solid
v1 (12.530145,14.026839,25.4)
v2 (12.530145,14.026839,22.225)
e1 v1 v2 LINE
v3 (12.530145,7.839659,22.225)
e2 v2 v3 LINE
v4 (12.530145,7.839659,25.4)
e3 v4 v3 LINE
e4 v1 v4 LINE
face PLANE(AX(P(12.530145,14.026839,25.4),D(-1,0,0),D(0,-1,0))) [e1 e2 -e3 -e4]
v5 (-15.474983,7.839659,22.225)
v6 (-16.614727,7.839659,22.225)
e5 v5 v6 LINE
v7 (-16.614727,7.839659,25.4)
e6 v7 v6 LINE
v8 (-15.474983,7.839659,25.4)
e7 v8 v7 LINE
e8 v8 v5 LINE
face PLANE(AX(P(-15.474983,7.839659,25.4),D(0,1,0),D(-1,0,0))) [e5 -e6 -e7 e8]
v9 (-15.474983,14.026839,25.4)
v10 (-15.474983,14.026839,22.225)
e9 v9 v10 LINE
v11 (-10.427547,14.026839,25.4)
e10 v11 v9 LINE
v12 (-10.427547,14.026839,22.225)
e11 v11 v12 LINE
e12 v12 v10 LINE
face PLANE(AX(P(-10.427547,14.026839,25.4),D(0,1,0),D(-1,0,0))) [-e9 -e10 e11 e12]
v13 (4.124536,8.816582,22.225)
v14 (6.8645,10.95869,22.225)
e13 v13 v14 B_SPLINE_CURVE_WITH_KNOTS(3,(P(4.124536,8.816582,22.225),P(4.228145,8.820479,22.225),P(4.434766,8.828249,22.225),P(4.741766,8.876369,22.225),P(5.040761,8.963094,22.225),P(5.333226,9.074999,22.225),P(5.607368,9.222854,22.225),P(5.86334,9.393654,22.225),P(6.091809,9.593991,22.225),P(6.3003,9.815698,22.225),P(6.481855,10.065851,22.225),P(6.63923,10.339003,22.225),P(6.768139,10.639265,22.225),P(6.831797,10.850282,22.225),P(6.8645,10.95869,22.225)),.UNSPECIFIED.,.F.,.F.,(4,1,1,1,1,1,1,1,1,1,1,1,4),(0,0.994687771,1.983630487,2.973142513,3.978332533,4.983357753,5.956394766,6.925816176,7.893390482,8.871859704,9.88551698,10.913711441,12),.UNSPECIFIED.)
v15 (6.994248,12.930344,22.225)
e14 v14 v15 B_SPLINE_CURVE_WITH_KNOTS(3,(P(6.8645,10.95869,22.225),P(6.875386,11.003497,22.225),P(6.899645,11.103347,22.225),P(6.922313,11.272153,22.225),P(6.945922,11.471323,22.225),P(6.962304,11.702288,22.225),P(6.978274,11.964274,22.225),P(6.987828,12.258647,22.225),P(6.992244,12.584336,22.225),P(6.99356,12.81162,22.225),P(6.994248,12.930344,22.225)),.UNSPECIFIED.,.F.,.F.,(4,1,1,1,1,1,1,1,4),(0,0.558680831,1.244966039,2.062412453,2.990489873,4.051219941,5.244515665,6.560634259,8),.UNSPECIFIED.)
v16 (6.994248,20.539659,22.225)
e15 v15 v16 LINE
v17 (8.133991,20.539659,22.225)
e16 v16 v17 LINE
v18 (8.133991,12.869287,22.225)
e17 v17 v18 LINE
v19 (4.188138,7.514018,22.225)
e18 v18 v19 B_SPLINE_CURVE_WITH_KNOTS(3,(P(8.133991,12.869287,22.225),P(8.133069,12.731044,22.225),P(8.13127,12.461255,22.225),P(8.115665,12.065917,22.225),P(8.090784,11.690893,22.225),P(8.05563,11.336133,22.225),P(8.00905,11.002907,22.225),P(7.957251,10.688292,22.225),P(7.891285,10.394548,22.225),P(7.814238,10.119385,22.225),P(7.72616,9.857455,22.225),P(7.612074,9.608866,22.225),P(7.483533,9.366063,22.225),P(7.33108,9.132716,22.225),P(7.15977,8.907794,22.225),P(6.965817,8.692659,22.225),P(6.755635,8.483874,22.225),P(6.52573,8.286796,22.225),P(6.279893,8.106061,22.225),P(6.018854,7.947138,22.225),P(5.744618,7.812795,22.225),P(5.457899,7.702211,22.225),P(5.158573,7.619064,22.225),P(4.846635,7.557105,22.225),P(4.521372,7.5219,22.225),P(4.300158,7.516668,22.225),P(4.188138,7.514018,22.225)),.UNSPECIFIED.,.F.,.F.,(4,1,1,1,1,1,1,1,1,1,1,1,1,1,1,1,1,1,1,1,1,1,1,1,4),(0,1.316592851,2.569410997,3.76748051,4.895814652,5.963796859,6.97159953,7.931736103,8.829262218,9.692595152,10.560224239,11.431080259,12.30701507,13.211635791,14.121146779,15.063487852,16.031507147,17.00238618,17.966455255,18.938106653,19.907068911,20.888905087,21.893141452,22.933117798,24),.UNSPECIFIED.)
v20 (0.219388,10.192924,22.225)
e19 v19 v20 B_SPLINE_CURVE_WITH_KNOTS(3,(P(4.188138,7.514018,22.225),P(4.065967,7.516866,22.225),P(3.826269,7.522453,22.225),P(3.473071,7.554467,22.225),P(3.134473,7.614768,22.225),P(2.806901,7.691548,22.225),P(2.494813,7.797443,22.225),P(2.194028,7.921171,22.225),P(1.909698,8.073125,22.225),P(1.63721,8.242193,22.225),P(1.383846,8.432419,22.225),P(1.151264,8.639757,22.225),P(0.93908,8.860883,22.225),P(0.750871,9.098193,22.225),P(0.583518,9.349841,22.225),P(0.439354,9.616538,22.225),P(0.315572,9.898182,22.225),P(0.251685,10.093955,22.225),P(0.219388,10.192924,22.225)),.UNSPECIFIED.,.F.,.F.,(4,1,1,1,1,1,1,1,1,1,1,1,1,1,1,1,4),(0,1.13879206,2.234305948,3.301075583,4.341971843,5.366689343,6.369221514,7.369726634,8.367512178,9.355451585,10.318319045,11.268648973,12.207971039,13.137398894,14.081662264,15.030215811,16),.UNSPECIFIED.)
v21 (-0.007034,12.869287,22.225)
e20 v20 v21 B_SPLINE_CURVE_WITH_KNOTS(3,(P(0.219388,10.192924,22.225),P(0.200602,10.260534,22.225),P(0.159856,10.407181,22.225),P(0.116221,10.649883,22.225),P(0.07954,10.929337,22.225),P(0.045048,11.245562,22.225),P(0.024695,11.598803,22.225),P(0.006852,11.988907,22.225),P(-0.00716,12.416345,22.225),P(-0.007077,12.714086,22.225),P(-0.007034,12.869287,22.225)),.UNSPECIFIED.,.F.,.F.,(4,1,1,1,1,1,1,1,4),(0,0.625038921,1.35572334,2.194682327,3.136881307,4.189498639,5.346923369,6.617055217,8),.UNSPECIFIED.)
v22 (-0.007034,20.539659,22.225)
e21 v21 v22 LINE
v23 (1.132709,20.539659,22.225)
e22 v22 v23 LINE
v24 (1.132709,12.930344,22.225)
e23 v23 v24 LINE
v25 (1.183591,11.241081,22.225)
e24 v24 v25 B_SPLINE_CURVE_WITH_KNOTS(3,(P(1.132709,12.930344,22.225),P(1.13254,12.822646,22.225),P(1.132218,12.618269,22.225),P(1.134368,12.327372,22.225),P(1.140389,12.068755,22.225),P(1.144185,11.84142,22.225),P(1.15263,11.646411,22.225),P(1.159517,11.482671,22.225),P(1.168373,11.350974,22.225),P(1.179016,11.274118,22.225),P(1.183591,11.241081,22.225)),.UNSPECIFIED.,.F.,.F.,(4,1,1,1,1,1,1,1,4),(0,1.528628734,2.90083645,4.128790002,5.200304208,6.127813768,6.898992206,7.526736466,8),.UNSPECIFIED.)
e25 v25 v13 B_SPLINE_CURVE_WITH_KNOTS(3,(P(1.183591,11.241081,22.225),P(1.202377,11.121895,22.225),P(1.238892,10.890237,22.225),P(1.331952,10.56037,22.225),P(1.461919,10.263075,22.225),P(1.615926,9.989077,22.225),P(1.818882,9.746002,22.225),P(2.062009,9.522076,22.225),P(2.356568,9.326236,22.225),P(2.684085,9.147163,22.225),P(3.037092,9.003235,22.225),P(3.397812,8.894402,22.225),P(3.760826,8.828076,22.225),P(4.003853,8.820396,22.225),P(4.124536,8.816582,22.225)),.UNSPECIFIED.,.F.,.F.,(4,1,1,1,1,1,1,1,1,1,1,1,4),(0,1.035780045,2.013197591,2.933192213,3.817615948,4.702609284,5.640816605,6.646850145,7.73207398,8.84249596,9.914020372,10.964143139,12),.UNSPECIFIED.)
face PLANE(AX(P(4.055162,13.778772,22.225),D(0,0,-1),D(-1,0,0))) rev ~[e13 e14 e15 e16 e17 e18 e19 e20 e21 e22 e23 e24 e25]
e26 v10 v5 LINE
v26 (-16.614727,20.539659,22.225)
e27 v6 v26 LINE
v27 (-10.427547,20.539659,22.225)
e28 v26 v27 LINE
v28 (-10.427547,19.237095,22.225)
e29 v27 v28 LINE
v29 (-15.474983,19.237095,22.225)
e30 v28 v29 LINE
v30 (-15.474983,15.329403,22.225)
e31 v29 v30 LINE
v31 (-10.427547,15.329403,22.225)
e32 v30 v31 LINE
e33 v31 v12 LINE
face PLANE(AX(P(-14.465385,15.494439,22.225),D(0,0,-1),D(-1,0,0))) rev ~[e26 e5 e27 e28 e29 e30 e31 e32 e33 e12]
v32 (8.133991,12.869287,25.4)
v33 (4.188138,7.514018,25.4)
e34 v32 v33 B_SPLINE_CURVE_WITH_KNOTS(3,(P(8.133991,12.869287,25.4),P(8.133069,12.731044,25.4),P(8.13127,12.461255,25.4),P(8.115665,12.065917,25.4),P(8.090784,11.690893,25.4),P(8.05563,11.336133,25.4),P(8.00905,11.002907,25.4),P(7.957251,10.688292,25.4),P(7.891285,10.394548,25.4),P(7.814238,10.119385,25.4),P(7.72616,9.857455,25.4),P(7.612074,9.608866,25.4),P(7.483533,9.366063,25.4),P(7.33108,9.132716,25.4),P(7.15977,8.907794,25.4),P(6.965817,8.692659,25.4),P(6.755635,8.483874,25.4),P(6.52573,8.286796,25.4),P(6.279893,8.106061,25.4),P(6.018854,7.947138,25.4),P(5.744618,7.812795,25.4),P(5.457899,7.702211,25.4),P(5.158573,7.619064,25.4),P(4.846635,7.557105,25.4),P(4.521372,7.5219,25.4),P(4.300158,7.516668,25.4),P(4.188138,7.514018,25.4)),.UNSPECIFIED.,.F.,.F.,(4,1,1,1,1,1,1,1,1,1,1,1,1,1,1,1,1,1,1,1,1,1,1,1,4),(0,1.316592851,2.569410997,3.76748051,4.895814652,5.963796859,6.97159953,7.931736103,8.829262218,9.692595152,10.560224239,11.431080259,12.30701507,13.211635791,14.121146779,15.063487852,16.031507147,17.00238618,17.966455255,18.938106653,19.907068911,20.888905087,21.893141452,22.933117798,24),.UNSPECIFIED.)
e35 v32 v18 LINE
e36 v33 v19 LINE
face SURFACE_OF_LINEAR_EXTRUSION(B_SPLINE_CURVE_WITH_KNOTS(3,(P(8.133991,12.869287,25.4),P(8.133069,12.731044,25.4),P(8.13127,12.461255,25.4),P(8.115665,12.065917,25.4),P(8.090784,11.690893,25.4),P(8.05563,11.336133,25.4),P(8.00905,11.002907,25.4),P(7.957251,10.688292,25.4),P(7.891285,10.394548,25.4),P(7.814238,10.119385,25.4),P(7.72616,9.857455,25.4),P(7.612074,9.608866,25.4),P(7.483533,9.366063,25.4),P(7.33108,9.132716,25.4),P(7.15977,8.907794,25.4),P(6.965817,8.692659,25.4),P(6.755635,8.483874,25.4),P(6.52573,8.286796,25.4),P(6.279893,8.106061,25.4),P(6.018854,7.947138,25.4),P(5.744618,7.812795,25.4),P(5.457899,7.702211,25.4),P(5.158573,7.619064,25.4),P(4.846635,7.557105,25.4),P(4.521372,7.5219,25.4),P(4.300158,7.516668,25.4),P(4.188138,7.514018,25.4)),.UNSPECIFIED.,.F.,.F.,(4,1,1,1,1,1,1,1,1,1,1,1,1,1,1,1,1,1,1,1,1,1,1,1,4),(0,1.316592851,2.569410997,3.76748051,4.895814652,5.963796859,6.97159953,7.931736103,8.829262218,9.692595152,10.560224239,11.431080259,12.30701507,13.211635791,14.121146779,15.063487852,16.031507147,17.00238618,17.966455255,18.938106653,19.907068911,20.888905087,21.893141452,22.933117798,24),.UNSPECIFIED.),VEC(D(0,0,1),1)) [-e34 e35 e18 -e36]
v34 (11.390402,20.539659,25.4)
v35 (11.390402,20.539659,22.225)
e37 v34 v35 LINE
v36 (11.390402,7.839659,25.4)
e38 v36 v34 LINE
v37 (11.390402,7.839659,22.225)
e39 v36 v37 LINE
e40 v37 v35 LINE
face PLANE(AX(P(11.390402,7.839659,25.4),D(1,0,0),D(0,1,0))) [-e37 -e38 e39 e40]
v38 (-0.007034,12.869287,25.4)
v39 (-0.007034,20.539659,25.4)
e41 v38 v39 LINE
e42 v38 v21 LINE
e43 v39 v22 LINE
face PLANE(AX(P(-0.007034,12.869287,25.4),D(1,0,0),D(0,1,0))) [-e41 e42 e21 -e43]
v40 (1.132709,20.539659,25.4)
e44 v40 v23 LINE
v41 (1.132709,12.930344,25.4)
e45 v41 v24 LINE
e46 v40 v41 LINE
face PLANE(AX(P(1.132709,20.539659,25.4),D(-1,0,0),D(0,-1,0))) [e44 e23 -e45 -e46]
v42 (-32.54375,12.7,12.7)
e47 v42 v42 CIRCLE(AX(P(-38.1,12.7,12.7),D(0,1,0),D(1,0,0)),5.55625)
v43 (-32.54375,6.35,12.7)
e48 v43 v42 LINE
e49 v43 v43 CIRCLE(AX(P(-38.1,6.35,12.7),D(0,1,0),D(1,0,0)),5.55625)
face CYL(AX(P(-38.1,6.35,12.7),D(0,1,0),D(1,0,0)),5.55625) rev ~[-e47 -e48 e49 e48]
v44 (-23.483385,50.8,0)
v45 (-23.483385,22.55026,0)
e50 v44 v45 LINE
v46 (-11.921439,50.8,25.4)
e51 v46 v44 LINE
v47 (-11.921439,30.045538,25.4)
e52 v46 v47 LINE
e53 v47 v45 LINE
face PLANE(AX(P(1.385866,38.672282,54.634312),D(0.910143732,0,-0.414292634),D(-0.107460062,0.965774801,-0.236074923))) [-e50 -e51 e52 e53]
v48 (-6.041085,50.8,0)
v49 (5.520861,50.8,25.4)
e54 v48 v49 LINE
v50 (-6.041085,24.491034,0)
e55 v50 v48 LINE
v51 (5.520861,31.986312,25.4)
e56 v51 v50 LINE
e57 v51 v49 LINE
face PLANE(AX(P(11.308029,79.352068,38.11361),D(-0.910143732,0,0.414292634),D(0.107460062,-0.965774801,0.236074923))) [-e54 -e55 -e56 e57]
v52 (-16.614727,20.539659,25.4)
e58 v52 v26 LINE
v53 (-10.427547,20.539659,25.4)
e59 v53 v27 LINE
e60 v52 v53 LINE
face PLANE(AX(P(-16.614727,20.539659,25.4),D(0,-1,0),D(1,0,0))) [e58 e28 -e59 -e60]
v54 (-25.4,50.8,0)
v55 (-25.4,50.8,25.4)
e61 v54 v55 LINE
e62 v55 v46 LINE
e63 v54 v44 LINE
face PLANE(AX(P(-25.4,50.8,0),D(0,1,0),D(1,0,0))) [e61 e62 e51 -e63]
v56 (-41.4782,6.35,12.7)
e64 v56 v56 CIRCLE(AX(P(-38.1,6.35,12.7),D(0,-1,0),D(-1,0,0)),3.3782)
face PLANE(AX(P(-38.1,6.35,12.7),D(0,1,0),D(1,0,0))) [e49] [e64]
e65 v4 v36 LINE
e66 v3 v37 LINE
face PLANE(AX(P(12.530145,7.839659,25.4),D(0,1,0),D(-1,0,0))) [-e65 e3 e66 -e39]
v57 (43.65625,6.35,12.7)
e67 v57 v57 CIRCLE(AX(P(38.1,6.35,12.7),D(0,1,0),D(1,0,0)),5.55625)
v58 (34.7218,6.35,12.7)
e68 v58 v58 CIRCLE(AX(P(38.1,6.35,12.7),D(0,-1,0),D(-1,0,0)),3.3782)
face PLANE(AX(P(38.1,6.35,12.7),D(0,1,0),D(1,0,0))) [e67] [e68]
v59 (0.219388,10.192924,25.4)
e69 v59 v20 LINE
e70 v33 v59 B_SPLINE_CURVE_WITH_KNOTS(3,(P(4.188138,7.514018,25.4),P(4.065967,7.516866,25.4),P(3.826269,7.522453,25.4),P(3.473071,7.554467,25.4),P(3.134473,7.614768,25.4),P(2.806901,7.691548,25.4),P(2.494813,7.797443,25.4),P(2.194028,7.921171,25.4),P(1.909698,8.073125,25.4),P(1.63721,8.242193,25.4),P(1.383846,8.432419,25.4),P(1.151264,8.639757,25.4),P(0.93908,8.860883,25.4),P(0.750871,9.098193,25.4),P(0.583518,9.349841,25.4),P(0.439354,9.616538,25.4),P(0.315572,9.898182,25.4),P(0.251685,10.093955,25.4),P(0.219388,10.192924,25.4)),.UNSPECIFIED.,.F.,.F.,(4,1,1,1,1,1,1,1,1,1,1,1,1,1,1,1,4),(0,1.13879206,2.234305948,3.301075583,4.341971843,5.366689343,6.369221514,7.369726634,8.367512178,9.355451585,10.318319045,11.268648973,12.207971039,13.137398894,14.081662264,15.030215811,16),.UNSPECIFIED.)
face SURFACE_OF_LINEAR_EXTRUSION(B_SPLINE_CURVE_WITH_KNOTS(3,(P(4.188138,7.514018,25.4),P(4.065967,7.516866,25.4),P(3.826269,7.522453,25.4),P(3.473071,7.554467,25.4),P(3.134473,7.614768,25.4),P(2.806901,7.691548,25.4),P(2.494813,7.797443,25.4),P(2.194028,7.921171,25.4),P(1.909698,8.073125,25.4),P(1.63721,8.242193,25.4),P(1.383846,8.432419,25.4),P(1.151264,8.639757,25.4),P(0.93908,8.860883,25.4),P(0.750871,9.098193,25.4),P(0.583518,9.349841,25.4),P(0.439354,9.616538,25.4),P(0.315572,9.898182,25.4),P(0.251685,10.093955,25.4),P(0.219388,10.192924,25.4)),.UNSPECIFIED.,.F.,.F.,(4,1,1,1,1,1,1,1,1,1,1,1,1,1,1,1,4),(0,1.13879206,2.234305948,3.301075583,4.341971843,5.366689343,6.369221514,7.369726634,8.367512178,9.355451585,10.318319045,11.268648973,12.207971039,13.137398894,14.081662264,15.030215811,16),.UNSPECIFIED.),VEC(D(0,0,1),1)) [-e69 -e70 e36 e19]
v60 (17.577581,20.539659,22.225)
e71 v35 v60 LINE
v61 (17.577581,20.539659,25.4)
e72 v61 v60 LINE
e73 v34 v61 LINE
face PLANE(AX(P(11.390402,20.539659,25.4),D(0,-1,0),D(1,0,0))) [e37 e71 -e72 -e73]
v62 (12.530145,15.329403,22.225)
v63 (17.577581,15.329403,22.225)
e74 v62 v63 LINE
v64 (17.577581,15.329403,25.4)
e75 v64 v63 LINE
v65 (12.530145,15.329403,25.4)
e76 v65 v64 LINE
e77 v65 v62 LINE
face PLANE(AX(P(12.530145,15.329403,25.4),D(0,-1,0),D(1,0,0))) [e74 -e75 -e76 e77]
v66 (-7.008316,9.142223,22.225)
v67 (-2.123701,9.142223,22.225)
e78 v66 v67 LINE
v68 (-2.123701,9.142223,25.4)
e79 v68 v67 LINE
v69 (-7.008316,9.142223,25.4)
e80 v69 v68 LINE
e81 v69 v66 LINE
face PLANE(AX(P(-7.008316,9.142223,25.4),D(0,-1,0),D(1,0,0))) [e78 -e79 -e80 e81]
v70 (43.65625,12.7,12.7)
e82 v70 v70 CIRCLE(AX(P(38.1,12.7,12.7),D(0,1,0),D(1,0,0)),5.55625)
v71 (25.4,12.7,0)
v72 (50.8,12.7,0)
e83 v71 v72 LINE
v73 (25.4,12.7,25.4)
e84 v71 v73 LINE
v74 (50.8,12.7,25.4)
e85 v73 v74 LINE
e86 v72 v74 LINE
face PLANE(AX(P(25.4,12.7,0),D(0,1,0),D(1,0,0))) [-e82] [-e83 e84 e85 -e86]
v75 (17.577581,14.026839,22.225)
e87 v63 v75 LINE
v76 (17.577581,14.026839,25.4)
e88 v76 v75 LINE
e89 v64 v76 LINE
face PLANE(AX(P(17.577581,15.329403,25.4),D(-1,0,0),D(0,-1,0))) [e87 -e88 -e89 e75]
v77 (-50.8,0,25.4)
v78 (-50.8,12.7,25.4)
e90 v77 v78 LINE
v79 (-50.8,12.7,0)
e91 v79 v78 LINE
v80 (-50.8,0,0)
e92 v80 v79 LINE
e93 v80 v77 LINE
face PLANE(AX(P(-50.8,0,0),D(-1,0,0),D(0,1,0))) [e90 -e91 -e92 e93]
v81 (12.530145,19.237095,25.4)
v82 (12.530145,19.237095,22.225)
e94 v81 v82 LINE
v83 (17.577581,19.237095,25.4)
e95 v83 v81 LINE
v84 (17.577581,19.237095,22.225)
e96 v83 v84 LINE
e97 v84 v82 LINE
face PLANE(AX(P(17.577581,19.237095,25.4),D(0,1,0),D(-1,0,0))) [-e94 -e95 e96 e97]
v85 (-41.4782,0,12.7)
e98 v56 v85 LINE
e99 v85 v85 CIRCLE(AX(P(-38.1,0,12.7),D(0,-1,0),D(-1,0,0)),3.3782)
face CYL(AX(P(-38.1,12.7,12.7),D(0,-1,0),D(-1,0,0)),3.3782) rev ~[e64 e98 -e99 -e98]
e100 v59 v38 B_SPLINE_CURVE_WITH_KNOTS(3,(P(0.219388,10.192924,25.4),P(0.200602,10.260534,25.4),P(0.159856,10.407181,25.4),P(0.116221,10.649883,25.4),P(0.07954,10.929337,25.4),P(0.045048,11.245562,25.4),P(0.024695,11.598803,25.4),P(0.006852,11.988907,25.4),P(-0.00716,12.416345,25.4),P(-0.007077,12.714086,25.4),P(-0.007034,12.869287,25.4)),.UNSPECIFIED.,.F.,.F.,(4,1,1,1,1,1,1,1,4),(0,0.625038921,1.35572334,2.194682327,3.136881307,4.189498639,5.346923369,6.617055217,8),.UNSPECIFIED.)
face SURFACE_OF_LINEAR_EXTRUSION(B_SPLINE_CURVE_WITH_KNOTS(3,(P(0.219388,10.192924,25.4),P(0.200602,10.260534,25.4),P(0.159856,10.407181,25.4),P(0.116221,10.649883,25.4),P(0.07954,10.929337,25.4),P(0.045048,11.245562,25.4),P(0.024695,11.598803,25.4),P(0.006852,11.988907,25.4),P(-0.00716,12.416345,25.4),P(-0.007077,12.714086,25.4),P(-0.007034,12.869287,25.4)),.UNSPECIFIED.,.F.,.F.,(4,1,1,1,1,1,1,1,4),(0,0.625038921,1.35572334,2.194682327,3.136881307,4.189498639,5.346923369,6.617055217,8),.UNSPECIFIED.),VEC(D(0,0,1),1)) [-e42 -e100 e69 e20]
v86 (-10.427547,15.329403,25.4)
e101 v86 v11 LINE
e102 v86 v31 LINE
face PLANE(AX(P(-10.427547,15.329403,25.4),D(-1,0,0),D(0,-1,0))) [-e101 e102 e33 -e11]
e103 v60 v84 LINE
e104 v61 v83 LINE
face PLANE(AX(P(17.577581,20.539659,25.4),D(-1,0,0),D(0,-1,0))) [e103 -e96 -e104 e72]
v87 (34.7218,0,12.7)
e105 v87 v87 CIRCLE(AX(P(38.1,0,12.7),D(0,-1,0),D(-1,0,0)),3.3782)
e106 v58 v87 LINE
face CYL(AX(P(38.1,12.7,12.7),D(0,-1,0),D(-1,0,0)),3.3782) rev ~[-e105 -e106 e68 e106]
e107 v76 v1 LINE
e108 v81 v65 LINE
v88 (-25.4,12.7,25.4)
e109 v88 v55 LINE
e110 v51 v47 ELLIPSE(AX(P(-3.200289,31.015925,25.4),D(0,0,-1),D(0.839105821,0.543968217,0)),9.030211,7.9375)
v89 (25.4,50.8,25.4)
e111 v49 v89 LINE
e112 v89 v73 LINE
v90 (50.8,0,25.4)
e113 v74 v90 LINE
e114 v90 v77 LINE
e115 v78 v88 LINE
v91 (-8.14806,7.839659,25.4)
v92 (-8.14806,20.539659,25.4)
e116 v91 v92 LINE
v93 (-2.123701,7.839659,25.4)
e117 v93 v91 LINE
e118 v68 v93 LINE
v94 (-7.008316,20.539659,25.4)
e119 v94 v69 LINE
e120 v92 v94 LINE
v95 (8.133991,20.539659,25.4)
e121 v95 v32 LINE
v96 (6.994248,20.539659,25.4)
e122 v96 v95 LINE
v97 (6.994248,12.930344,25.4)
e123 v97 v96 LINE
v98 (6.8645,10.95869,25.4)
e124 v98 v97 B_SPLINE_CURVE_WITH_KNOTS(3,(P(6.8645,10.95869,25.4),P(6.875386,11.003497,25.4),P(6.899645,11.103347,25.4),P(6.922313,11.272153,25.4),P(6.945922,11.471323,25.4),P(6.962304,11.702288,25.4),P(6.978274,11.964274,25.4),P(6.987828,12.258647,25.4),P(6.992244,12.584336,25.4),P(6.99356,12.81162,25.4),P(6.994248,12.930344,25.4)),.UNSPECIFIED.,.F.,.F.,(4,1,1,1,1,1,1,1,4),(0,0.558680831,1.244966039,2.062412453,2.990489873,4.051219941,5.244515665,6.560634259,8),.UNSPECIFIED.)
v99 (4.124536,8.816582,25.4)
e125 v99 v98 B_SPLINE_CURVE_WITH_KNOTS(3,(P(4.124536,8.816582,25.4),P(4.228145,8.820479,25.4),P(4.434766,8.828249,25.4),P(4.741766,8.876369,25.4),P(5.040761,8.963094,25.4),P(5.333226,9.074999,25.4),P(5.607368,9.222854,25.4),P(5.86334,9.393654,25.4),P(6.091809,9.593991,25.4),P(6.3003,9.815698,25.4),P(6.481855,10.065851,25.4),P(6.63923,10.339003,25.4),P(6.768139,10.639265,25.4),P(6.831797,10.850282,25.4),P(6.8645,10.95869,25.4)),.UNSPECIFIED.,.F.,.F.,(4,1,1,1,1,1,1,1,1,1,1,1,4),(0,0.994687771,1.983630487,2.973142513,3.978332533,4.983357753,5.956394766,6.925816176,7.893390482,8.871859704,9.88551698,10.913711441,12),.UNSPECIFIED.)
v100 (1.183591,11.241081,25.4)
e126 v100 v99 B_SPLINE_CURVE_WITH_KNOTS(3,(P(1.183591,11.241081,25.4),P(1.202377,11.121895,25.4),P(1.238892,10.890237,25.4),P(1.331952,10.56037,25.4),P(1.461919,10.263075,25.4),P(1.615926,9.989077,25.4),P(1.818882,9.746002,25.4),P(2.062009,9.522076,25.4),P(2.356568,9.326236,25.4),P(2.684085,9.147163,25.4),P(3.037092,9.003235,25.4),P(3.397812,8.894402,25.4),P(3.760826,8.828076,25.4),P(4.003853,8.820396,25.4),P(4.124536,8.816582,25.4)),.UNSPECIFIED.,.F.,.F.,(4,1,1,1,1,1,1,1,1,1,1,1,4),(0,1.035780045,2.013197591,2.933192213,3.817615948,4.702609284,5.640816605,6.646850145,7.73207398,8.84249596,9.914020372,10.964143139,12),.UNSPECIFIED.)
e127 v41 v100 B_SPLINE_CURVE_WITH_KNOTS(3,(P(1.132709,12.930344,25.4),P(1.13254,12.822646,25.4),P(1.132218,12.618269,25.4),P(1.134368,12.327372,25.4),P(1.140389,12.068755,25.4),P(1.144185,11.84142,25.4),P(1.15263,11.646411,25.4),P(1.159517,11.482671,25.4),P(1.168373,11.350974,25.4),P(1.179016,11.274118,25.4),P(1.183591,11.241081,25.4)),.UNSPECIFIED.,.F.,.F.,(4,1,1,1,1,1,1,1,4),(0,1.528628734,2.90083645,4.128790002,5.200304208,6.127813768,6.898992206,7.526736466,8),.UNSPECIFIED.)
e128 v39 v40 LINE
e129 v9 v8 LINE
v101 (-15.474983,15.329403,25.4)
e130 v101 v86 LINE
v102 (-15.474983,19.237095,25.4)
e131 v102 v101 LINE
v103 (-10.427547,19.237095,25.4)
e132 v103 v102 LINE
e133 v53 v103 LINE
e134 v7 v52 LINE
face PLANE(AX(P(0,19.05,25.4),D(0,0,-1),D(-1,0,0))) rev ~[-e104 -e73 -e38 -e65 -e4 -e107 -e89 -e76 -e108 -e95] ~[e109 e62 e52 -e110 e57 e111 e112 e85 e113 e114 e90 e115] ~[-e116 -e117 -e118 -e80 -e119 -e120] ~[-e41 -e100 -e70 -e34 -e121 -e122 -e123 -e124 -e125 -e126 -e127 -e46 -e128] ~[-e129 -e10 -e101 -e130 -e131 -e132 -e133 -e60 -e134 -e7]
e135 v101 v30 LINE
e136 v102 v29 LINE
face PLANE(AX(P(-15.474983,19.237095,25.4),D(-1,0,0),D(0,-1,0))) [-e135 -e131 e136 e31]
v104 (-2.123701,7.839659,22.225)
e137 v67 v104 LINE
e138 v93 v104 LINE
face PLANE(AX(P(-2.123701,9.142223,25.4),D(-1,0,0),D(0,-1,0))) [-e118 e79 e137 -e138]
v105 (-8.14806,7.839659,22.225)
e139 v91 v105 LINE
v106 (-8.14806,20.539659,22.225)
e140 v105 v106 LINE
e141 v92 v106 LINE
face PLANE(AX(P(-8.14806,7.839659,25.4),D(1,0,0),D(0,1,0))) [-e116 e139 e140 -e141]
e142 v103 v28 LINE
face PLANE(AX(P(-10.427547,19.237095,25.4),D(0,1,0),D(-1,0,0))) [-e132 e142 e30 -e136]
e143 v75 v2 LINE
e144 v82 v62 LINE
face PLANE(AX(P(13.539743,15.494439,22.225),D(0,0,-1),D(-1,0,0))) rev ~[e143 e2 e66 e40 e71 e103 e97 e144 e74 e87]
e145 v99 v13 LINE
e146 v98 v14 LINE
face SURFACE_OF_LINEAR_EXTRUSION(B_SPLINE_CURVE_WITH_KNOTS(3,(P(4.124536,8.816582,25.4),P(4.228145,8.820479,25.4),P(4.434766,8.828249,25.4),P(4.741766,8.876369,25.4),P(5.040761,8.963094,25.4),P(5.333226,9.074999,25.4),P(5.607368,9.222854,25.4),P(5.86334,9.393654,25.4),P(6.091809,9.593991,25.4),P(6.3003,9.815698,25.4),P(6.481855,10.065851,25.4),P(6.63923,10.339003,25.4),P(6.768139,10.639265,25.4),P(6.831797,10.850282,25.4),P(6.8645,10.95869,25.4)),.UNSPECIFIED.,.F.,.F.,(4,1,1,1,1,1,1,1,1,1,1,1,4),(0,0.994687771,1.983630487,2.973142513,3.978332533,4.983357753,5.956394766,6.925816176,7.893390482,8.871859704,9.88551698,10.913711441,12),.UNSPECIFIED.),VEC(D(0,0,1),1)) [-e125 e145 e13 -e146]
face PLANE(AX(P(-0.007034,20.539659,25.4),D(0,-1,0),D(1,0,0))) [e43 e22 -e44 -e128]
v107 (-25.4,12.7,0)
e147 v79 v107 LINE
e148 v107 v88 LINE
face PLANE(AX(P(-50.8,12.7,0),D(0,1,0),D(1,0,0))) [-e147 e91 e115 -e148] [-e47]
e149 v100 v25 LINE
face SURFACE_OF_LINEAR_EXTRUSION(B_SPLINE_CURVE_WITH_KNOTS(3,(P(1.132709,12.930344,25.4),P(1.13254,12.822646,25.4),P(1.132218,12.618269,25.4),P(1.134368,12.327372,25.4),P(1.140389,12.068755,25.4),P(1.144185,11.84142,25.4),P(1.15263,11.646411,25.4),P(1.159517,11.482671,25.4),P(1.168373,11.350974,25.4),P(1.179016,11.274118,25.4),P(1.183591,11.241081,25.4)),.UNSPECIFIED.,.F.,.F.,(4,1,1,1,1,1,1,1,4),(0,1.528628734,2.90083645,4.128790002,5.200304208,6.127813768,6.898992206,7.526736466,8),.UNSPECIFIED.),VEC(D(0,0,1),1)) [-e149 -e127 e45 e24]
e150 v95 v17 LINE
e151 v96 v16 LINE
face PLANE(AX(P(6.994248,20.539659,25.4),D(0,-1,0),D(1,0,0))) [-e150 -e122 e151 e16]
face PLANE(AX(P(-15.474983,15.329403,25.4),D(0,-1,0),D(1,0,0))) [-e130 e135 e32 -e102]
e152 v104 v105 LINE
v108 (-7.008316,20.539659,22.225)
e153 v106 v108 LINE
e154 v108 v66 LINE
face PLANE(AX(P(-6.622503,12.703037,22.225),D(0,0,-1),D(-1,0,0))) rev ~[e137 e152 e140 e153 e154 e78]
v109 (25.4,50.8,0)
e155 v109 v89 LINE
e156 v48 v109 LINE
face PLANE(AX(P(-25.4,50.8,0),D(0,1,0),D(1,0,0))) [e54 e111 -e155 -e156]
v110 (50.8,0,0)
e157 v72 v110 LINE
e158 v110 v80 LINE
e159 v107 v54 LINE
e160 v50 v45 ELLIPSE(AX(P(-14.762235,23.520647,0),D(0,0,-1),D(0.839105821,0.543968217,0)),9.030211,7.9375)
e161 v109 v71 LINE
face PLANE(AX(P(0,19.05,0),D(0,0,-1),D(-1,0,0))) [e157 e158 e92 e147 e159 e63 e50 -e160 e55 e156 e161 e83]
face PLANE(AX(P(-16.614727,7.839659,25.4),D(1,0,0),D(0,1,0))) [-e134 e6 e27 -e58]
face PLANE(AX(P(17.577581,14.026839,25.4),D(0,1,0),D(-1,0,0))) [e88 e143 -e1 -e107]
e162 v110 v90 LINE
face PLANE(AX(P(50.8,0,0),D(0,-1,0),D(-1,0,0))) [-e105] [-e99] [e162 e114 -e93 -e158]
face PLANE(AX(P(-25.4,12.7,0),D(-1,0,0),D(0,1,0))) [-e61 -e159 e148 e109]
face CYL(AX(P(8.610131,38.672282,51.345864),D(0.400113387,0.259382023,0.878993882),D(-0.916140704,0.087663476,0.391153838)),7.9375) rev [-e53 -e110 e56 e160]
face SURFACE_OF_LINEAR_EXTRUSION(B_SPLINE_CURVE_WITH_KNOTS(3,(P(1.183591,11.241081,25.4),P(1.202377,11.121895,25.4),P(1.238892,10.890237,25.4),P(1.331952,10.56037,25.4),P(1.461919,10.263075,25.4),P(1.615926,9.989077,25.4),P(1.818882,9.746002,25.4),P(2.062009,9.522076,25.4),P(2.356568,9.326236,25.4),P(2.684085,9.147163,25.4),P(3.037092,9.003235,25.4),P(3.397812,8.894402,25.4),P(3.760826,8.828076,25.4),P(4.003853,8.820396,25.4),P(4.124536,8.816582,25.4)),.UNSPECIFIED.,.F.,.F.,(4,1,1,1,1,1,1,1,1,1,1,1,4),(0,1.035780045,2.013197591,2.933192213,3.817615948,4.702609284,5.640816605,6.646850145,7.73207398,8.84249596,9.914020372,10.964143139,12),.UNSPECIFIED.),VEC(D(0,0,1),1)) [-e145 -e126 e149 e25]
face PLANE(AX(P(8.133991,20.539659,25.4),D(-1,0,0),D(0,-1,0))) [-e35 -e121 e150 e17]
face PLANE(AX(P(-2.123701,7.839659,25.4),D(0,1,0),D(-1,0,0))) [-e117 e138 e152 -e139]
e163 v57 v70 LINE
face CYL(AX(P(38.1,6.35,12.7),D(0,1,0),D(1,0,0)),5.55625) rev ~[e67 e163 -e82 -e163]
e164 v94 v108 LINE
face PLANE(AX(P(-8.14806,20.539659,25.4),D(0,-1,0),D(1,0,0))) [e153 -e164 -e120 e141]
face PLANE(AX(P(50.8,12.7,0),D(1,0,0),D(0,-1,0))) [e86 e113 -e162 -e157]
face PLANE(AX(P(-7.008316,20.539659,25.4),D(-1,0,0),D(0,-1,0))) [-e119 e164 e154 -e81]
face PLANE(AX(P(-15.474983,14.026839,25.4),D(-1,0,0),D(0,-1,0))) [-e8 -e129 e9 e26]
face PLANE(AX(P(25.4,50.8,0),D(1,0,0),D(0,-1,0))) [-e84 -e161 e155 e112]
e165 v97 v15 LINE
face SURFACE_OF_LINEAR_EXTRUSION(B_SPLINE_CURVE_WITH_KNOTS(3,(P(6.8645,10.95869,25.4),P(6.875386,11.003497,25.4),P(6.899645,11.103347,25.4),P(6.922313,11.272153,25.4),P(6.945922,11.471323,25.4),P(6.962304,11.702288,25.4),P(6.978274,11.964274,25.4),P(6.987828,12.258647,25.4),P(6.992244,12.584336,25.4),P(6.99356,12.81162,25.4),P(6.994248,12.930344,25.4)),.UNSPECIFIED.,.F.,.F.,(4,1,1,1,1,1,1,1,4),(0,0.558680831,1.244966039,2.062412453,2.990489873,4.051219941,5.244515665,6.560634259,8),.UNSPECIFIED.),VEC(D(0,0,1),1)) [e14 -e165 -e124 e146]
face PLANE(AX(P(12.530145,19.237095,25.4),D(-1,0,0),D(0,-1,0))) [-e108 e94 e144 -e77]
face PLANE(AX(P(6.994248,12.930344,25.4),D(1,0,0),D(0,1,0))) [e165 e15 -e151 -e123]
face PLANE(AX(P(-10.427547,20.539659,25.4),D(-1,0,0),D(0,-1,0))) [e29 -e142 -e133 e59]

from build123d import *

# Parameters (mm, degrees)
BOSS_EXTRUDE1_DEPTH                              = 25.4
CBORE_FOR_1_4_SOCKET_HEAD_CAP_SCREW1_D           = 6.7564
CBORE_FOR_1_4_SOCKET_HEAD_CAP_SCREW1_CBORE_D     = 11.1125
CBORE_FOR_1_4_SOCKET_HEAD_CAP_SCREW1_CBORE_DEPTH = 6.35
SKETCH6_R                                        = 7.9375
CUT_EXTRUDE2_DEPTH                               = 88.530033839
CUT_EXTRUDE3_DEPTH                               = 3.175


with BuildPart() as part:
    # Sketch1 → Boss-Extrude1 (new body)
    with BuildSketch(Plane.XY):
        Polygon((25.4, 12.7), (50.8, 12.7), (50.8, 0), (-50.8, 0), (-50.8, 12.7), (-25.4, 12.7), (-25.4, 50.8), (25.4, 50.8), align=None)
    extrude(amount=BOSS_EXTRUDE1_DEPTH)

    # CBORE for 1/4 Socket Head Cap Screw1 (through all)
    with Locations(Plane(origin=(0, 12.7, 0), x_dir=(1, 0, 0), z_dir=(0, 1, 0))):
        with Locations((-38.1, -12.7), (38.1, -12.7)):
            CounterBoreHole(CBORE_FOR_1_4_SOCKET_HEAD_CAP_SCREW1_D / 2, CBORE_FOR_1_4_SOCKET_HEAD_CAP_SCREW1_CBORE_D / 2, CBORE_FOR_1_4_SOCKET_HEAD_CAP_SCREW1_CBORE_DEPTH)

    # Sketch6 → Cut-Extrude2 (cut, through all)
    with BuildSketch(Plane(origin=(8.61013147, 38.672281651, 51.345863849), x_dir=(-0.9161407044196058, 0.08766347581543056, 0.39115383765662576), z_dir=(-0.40011338654688333, -0.2593820230581922, -0.878993881673942))):
        Circle(SKETCH6_R)
        with BuildLine():
            Line((-4.081369276, 42.668005296), (-7.904732998, 0.720487673))
            ThreePointArc((-7.904732998, 0.720487673), (0.360616196, 7.929304018), (7.9375, 0))
            ThreePointArc((7.9375, 0), (7.929304018, -0.360616196), (7.904732998, -0.720487673))
            Line((7.904732998, -0.720487673), (11.728096719, 41.227029949))
            Line((11.728096719, 41.227029949), (-4.081369276, 42.668005296))
        make_face()
    extrude(amount=CUT_EXTRUDE2_DEPTH, mode=Mode.SUBTRACT)

    # Sketch7 → Cut-Extrude3 (cut)
    with BuildSketch(Plane.XY.offset(25.4)):
        Polygon((-16.614726636, 20.539659198), (-10.427547149, 20.539659198), (-10.427547149, 19.237095095), (-15.474983047, 19.237095095), (-15.474983047, 15.329402787), (-10.427547149, 15.329402787), (-10.427547149, 14.026838685), (-15.474983047, 14.026838685), (-15.474983047, 7.839659198), (-16.614726636, 7.839659198), align=None)
        Polygon((-8.14805997, 20.539659198), (-7.00831638, 20.539659198), (-7.00831638, 9.1422233), (-2.123700995, 9.1422233), (-2.123700995, 7.839659198), (-8.14805997, 7.839659198), align=None)
        with BuildLine():
            Line((-0.007034329, 20.539659198), (1.132709261, 20.539659198))
            Line((1.132709261, 20.539659198), (1.132709261, 12.930344294))
            add(Edge.make_bspline(
                [(1.132709261, 12.930344294), (1.132539647, 12.822645624), (1.132217776, 12.618268839), (1.134367755, 12.327372434), (1.140388891, 12.068755225), (1.144184956, 11.841420336), (1.152629852, 11.646410938), (1.159517051, 11.482670525), (1.168372785, 11.350974419), (1.179015812, 11.274117916), (1.183590671, 11.241081473)],
                knots=[0, 0, 0, 0, 1.528628734, 2.90083645, 4.128790002, 5.200304208, 6.127813768, 6.898992206, 7.526736466, 8, 8, 8, 8], degree=3))
            add(Edge.make_bspline(
                [(1.183590671, 11.241081473), (1.20237745, 11.121894646), (1.238892441, 10.890236743), (1.331952154, 10.560369549), (1.461918515, 10.263075401), (1.615926127, 9.989077287), (1.818881603, 9.746001609), (2.062008717, 9.522076469), (2.356568048, 9.326235921), (2.684085103, 9.147162975), (3.037091536, 9.003235391), (3.397812417, 8.894402326), (3.760825513, 8.828076032), (4.003853312, 8.820396019), (4.124536184, 8.816582275)],
                knots=[0, 0, 0, 0, 1.035780045, 2.013197591, 2.933192213, 3.817615948, 4.702609284, 5.640816605, 6.646850145, 7.73207398, 8.84249596, 9.914020372, 10.964143139, 12, 12, 12, 12], degree=3))
            add(Edge.make_bspline(
                [(4.124536184, 8.816582275), (4.228145471, 8.820478817), (4.434765624, 8.828249397), (4.741766101, 8.876369446), (5.040760781, 8.963094356), (5.333226105, 9.074998622), (5.607368249, 9.222854167), (5.863340167, 9.39365407), (6.0918093, 9.593990678), (6.300299749, 9.815697642), (6.481855087, 10.065850631), (6.639230373, 10.339002731), (6.768138746, 10.639264647), (6.831796679, 10.850282122), (6.864500126, 10.958689646)],
                knots=[0, 0, 0, 0, 0.994687771, 1.983630487, 2.973142513, 3.978332533, 4.983357753, 5.956394766, 6.925816176, 7.893390482, 8.871859704, 9.88551698, 10.913711441, 12, 12, 12, 12], degree=3))
            add(Edge.make_bspline(
                [(6.864500126, 10.958689646), (6.875386295, 11.00349733), (6.899645067, 11.103346908), (6.922312916, 11.272152734), (6.945922308, 11.471322711), (6.962303748, 11.702287861), (6.97827389, 11.964274247), (6.987828183, 12.258646667), (6.992244274, 12.584336211), (6.993560286, 12.811619626), (6.994247723, 12.930344294)],
                knots=[0, 0, 0, 0, 0.558680831, 1.244966039, 2.062412453, 2.990489873, 4.051219941, 5.244515665, 6.560634259, 8, 8, 8, 8], degree=3))
            Line((6.994247723, 12.930344294), (6.994247723, 20.539659198))
            Line((6.994247723, 20.539659198), (8.133991312, 20.539659198))
            Line((8.133991312, 20.539659198), (8.133991312, 12.869286602))
            add(Edge.make_bspline(
                [(8.133991312, 12.869286602), (8.133069218, 12.731043912), (8.131269696, 12.461254899), (8.115664747, 12.06591711), (8.090783633, 11.690893435), (8.055629714, 11.336133462), (8.009049731, 11.002906656), (7.957251074, 10.688292211), (7.89128534, 10.394548495), (7.814238427, 10.119385151), (7.726160124, 9.85745486), (7.612073671, 9.608866458), (7.483533343, 9.366062779), (7.331080174, 9.132716213), (7.1597703, 8.907793577), (6.965817058, 8.692658933), (6.755635103, 8.483874394), (6.525730415, 8.286795554), (6.279892795, 8.106061212), (6.01885352, 7.947137871), (5.744617813, 7.812795031), (5.457898526, 7.702210962), (5.158573304, 7.619063702), (4.846634599, 7.55710528), (4.521372383, 7.5218998), (4.300157774, 7.516667654), (4.188137947, 7.514018172)],
                knots=[0, 0, 0, 0, 1.316592851, 2.569410997, 3.76748051, 4.895814652, 5.963796859, 6.97159953, 7.931736103, 8.829262218, 9.692595152, 10.560224239, 11.431080259, 12.30701507, 13.211635791, 14.121146779, 15.063487852, 16.031507147, 17.00238618, 17.966455255, 18.938106653, 19.907068911, 20.888905087, 21.893141452, 22.933117798, 24, 24, 24, 24], degree=3))
            add(Edge.make_bspline(
                [(4.188137947, 7.514018172), (4.065967203, 7.516865749), (3.826268641, 7.522452684), (3.473070511, 7.554466663), (3.134473285, 7.614767694), (2.806900816, 7.691548061), (2.494812841, 7.797443337), (2.194028057, 7.921170818), (1.909697986, 8.073125449), (1.637209948, 8.242192903), (1.383845832, 8.432419447), (1.151263827, 8.63975665), (0.939079954, 8.860883162), (0.750870684, 9.098193061), (0.58351776, 9.349840684), (0.439353843, 9.616537925), (0.3155715, 9.898181529), (0.251684814, 10.093954571), (0.219387947, 10.192924422)],
                knots=[0, 0, 0, 0, 1.13879206, 2.234305948, 3.301075583, 4.341971843, 5.366689343, 6.369221514, 7.369726634, 8.367512178, 9.355451585, 10.318319045, 11.268648973, 12.207971039, 13.137398894, 14.081662264, 15.030215811, 16, 16, 16, 16], degree=3))
            add(Edge.make_bspline(
                [(0.219387947, 10.192924422), (0.200602259, 10.260534049), (0.159855683, 10.407180837), (0.116221031, 10.649883238), (0.079539506, 10.929337368), (0.045047909, 11.245562354), (0.024695405, 11.598803299), (0.006852127, 11.988907079), (-0.007160032, 12.416345397), (-0.007077401, 12.714086068), (-0.007034329, 12.869286602)],
                knots=[0, 0, 0, 0, 0.625038921, 1.35572334, 2.194682327, 3.136881307, 4.189498639, 5.346923369, 6.617055217, 8, 8, 8, 8], degree=3))
            Line((-0.007034329, 12.869286602), (-0.007034329, 20.539659198))
        make_face()
        Polygon((11.390401569, 20.539659198), (17.577581056, 20.539659198), (17.577581056, 19.237095095), (12.530145158, 19.237095095), (12.530145158, 15.329402787), (17.577581056, 15.329402787), (17.577581056, 14.026838685), (12.530145158, 14.026838685), (12.530145158, 7.839659198), (11.390401569, 7.839659198), align=None)
    extrude(amount=-CUT_EXTRUDE3_DEPTH, mode=Mode.SUBTRACT)


solid = part.part
